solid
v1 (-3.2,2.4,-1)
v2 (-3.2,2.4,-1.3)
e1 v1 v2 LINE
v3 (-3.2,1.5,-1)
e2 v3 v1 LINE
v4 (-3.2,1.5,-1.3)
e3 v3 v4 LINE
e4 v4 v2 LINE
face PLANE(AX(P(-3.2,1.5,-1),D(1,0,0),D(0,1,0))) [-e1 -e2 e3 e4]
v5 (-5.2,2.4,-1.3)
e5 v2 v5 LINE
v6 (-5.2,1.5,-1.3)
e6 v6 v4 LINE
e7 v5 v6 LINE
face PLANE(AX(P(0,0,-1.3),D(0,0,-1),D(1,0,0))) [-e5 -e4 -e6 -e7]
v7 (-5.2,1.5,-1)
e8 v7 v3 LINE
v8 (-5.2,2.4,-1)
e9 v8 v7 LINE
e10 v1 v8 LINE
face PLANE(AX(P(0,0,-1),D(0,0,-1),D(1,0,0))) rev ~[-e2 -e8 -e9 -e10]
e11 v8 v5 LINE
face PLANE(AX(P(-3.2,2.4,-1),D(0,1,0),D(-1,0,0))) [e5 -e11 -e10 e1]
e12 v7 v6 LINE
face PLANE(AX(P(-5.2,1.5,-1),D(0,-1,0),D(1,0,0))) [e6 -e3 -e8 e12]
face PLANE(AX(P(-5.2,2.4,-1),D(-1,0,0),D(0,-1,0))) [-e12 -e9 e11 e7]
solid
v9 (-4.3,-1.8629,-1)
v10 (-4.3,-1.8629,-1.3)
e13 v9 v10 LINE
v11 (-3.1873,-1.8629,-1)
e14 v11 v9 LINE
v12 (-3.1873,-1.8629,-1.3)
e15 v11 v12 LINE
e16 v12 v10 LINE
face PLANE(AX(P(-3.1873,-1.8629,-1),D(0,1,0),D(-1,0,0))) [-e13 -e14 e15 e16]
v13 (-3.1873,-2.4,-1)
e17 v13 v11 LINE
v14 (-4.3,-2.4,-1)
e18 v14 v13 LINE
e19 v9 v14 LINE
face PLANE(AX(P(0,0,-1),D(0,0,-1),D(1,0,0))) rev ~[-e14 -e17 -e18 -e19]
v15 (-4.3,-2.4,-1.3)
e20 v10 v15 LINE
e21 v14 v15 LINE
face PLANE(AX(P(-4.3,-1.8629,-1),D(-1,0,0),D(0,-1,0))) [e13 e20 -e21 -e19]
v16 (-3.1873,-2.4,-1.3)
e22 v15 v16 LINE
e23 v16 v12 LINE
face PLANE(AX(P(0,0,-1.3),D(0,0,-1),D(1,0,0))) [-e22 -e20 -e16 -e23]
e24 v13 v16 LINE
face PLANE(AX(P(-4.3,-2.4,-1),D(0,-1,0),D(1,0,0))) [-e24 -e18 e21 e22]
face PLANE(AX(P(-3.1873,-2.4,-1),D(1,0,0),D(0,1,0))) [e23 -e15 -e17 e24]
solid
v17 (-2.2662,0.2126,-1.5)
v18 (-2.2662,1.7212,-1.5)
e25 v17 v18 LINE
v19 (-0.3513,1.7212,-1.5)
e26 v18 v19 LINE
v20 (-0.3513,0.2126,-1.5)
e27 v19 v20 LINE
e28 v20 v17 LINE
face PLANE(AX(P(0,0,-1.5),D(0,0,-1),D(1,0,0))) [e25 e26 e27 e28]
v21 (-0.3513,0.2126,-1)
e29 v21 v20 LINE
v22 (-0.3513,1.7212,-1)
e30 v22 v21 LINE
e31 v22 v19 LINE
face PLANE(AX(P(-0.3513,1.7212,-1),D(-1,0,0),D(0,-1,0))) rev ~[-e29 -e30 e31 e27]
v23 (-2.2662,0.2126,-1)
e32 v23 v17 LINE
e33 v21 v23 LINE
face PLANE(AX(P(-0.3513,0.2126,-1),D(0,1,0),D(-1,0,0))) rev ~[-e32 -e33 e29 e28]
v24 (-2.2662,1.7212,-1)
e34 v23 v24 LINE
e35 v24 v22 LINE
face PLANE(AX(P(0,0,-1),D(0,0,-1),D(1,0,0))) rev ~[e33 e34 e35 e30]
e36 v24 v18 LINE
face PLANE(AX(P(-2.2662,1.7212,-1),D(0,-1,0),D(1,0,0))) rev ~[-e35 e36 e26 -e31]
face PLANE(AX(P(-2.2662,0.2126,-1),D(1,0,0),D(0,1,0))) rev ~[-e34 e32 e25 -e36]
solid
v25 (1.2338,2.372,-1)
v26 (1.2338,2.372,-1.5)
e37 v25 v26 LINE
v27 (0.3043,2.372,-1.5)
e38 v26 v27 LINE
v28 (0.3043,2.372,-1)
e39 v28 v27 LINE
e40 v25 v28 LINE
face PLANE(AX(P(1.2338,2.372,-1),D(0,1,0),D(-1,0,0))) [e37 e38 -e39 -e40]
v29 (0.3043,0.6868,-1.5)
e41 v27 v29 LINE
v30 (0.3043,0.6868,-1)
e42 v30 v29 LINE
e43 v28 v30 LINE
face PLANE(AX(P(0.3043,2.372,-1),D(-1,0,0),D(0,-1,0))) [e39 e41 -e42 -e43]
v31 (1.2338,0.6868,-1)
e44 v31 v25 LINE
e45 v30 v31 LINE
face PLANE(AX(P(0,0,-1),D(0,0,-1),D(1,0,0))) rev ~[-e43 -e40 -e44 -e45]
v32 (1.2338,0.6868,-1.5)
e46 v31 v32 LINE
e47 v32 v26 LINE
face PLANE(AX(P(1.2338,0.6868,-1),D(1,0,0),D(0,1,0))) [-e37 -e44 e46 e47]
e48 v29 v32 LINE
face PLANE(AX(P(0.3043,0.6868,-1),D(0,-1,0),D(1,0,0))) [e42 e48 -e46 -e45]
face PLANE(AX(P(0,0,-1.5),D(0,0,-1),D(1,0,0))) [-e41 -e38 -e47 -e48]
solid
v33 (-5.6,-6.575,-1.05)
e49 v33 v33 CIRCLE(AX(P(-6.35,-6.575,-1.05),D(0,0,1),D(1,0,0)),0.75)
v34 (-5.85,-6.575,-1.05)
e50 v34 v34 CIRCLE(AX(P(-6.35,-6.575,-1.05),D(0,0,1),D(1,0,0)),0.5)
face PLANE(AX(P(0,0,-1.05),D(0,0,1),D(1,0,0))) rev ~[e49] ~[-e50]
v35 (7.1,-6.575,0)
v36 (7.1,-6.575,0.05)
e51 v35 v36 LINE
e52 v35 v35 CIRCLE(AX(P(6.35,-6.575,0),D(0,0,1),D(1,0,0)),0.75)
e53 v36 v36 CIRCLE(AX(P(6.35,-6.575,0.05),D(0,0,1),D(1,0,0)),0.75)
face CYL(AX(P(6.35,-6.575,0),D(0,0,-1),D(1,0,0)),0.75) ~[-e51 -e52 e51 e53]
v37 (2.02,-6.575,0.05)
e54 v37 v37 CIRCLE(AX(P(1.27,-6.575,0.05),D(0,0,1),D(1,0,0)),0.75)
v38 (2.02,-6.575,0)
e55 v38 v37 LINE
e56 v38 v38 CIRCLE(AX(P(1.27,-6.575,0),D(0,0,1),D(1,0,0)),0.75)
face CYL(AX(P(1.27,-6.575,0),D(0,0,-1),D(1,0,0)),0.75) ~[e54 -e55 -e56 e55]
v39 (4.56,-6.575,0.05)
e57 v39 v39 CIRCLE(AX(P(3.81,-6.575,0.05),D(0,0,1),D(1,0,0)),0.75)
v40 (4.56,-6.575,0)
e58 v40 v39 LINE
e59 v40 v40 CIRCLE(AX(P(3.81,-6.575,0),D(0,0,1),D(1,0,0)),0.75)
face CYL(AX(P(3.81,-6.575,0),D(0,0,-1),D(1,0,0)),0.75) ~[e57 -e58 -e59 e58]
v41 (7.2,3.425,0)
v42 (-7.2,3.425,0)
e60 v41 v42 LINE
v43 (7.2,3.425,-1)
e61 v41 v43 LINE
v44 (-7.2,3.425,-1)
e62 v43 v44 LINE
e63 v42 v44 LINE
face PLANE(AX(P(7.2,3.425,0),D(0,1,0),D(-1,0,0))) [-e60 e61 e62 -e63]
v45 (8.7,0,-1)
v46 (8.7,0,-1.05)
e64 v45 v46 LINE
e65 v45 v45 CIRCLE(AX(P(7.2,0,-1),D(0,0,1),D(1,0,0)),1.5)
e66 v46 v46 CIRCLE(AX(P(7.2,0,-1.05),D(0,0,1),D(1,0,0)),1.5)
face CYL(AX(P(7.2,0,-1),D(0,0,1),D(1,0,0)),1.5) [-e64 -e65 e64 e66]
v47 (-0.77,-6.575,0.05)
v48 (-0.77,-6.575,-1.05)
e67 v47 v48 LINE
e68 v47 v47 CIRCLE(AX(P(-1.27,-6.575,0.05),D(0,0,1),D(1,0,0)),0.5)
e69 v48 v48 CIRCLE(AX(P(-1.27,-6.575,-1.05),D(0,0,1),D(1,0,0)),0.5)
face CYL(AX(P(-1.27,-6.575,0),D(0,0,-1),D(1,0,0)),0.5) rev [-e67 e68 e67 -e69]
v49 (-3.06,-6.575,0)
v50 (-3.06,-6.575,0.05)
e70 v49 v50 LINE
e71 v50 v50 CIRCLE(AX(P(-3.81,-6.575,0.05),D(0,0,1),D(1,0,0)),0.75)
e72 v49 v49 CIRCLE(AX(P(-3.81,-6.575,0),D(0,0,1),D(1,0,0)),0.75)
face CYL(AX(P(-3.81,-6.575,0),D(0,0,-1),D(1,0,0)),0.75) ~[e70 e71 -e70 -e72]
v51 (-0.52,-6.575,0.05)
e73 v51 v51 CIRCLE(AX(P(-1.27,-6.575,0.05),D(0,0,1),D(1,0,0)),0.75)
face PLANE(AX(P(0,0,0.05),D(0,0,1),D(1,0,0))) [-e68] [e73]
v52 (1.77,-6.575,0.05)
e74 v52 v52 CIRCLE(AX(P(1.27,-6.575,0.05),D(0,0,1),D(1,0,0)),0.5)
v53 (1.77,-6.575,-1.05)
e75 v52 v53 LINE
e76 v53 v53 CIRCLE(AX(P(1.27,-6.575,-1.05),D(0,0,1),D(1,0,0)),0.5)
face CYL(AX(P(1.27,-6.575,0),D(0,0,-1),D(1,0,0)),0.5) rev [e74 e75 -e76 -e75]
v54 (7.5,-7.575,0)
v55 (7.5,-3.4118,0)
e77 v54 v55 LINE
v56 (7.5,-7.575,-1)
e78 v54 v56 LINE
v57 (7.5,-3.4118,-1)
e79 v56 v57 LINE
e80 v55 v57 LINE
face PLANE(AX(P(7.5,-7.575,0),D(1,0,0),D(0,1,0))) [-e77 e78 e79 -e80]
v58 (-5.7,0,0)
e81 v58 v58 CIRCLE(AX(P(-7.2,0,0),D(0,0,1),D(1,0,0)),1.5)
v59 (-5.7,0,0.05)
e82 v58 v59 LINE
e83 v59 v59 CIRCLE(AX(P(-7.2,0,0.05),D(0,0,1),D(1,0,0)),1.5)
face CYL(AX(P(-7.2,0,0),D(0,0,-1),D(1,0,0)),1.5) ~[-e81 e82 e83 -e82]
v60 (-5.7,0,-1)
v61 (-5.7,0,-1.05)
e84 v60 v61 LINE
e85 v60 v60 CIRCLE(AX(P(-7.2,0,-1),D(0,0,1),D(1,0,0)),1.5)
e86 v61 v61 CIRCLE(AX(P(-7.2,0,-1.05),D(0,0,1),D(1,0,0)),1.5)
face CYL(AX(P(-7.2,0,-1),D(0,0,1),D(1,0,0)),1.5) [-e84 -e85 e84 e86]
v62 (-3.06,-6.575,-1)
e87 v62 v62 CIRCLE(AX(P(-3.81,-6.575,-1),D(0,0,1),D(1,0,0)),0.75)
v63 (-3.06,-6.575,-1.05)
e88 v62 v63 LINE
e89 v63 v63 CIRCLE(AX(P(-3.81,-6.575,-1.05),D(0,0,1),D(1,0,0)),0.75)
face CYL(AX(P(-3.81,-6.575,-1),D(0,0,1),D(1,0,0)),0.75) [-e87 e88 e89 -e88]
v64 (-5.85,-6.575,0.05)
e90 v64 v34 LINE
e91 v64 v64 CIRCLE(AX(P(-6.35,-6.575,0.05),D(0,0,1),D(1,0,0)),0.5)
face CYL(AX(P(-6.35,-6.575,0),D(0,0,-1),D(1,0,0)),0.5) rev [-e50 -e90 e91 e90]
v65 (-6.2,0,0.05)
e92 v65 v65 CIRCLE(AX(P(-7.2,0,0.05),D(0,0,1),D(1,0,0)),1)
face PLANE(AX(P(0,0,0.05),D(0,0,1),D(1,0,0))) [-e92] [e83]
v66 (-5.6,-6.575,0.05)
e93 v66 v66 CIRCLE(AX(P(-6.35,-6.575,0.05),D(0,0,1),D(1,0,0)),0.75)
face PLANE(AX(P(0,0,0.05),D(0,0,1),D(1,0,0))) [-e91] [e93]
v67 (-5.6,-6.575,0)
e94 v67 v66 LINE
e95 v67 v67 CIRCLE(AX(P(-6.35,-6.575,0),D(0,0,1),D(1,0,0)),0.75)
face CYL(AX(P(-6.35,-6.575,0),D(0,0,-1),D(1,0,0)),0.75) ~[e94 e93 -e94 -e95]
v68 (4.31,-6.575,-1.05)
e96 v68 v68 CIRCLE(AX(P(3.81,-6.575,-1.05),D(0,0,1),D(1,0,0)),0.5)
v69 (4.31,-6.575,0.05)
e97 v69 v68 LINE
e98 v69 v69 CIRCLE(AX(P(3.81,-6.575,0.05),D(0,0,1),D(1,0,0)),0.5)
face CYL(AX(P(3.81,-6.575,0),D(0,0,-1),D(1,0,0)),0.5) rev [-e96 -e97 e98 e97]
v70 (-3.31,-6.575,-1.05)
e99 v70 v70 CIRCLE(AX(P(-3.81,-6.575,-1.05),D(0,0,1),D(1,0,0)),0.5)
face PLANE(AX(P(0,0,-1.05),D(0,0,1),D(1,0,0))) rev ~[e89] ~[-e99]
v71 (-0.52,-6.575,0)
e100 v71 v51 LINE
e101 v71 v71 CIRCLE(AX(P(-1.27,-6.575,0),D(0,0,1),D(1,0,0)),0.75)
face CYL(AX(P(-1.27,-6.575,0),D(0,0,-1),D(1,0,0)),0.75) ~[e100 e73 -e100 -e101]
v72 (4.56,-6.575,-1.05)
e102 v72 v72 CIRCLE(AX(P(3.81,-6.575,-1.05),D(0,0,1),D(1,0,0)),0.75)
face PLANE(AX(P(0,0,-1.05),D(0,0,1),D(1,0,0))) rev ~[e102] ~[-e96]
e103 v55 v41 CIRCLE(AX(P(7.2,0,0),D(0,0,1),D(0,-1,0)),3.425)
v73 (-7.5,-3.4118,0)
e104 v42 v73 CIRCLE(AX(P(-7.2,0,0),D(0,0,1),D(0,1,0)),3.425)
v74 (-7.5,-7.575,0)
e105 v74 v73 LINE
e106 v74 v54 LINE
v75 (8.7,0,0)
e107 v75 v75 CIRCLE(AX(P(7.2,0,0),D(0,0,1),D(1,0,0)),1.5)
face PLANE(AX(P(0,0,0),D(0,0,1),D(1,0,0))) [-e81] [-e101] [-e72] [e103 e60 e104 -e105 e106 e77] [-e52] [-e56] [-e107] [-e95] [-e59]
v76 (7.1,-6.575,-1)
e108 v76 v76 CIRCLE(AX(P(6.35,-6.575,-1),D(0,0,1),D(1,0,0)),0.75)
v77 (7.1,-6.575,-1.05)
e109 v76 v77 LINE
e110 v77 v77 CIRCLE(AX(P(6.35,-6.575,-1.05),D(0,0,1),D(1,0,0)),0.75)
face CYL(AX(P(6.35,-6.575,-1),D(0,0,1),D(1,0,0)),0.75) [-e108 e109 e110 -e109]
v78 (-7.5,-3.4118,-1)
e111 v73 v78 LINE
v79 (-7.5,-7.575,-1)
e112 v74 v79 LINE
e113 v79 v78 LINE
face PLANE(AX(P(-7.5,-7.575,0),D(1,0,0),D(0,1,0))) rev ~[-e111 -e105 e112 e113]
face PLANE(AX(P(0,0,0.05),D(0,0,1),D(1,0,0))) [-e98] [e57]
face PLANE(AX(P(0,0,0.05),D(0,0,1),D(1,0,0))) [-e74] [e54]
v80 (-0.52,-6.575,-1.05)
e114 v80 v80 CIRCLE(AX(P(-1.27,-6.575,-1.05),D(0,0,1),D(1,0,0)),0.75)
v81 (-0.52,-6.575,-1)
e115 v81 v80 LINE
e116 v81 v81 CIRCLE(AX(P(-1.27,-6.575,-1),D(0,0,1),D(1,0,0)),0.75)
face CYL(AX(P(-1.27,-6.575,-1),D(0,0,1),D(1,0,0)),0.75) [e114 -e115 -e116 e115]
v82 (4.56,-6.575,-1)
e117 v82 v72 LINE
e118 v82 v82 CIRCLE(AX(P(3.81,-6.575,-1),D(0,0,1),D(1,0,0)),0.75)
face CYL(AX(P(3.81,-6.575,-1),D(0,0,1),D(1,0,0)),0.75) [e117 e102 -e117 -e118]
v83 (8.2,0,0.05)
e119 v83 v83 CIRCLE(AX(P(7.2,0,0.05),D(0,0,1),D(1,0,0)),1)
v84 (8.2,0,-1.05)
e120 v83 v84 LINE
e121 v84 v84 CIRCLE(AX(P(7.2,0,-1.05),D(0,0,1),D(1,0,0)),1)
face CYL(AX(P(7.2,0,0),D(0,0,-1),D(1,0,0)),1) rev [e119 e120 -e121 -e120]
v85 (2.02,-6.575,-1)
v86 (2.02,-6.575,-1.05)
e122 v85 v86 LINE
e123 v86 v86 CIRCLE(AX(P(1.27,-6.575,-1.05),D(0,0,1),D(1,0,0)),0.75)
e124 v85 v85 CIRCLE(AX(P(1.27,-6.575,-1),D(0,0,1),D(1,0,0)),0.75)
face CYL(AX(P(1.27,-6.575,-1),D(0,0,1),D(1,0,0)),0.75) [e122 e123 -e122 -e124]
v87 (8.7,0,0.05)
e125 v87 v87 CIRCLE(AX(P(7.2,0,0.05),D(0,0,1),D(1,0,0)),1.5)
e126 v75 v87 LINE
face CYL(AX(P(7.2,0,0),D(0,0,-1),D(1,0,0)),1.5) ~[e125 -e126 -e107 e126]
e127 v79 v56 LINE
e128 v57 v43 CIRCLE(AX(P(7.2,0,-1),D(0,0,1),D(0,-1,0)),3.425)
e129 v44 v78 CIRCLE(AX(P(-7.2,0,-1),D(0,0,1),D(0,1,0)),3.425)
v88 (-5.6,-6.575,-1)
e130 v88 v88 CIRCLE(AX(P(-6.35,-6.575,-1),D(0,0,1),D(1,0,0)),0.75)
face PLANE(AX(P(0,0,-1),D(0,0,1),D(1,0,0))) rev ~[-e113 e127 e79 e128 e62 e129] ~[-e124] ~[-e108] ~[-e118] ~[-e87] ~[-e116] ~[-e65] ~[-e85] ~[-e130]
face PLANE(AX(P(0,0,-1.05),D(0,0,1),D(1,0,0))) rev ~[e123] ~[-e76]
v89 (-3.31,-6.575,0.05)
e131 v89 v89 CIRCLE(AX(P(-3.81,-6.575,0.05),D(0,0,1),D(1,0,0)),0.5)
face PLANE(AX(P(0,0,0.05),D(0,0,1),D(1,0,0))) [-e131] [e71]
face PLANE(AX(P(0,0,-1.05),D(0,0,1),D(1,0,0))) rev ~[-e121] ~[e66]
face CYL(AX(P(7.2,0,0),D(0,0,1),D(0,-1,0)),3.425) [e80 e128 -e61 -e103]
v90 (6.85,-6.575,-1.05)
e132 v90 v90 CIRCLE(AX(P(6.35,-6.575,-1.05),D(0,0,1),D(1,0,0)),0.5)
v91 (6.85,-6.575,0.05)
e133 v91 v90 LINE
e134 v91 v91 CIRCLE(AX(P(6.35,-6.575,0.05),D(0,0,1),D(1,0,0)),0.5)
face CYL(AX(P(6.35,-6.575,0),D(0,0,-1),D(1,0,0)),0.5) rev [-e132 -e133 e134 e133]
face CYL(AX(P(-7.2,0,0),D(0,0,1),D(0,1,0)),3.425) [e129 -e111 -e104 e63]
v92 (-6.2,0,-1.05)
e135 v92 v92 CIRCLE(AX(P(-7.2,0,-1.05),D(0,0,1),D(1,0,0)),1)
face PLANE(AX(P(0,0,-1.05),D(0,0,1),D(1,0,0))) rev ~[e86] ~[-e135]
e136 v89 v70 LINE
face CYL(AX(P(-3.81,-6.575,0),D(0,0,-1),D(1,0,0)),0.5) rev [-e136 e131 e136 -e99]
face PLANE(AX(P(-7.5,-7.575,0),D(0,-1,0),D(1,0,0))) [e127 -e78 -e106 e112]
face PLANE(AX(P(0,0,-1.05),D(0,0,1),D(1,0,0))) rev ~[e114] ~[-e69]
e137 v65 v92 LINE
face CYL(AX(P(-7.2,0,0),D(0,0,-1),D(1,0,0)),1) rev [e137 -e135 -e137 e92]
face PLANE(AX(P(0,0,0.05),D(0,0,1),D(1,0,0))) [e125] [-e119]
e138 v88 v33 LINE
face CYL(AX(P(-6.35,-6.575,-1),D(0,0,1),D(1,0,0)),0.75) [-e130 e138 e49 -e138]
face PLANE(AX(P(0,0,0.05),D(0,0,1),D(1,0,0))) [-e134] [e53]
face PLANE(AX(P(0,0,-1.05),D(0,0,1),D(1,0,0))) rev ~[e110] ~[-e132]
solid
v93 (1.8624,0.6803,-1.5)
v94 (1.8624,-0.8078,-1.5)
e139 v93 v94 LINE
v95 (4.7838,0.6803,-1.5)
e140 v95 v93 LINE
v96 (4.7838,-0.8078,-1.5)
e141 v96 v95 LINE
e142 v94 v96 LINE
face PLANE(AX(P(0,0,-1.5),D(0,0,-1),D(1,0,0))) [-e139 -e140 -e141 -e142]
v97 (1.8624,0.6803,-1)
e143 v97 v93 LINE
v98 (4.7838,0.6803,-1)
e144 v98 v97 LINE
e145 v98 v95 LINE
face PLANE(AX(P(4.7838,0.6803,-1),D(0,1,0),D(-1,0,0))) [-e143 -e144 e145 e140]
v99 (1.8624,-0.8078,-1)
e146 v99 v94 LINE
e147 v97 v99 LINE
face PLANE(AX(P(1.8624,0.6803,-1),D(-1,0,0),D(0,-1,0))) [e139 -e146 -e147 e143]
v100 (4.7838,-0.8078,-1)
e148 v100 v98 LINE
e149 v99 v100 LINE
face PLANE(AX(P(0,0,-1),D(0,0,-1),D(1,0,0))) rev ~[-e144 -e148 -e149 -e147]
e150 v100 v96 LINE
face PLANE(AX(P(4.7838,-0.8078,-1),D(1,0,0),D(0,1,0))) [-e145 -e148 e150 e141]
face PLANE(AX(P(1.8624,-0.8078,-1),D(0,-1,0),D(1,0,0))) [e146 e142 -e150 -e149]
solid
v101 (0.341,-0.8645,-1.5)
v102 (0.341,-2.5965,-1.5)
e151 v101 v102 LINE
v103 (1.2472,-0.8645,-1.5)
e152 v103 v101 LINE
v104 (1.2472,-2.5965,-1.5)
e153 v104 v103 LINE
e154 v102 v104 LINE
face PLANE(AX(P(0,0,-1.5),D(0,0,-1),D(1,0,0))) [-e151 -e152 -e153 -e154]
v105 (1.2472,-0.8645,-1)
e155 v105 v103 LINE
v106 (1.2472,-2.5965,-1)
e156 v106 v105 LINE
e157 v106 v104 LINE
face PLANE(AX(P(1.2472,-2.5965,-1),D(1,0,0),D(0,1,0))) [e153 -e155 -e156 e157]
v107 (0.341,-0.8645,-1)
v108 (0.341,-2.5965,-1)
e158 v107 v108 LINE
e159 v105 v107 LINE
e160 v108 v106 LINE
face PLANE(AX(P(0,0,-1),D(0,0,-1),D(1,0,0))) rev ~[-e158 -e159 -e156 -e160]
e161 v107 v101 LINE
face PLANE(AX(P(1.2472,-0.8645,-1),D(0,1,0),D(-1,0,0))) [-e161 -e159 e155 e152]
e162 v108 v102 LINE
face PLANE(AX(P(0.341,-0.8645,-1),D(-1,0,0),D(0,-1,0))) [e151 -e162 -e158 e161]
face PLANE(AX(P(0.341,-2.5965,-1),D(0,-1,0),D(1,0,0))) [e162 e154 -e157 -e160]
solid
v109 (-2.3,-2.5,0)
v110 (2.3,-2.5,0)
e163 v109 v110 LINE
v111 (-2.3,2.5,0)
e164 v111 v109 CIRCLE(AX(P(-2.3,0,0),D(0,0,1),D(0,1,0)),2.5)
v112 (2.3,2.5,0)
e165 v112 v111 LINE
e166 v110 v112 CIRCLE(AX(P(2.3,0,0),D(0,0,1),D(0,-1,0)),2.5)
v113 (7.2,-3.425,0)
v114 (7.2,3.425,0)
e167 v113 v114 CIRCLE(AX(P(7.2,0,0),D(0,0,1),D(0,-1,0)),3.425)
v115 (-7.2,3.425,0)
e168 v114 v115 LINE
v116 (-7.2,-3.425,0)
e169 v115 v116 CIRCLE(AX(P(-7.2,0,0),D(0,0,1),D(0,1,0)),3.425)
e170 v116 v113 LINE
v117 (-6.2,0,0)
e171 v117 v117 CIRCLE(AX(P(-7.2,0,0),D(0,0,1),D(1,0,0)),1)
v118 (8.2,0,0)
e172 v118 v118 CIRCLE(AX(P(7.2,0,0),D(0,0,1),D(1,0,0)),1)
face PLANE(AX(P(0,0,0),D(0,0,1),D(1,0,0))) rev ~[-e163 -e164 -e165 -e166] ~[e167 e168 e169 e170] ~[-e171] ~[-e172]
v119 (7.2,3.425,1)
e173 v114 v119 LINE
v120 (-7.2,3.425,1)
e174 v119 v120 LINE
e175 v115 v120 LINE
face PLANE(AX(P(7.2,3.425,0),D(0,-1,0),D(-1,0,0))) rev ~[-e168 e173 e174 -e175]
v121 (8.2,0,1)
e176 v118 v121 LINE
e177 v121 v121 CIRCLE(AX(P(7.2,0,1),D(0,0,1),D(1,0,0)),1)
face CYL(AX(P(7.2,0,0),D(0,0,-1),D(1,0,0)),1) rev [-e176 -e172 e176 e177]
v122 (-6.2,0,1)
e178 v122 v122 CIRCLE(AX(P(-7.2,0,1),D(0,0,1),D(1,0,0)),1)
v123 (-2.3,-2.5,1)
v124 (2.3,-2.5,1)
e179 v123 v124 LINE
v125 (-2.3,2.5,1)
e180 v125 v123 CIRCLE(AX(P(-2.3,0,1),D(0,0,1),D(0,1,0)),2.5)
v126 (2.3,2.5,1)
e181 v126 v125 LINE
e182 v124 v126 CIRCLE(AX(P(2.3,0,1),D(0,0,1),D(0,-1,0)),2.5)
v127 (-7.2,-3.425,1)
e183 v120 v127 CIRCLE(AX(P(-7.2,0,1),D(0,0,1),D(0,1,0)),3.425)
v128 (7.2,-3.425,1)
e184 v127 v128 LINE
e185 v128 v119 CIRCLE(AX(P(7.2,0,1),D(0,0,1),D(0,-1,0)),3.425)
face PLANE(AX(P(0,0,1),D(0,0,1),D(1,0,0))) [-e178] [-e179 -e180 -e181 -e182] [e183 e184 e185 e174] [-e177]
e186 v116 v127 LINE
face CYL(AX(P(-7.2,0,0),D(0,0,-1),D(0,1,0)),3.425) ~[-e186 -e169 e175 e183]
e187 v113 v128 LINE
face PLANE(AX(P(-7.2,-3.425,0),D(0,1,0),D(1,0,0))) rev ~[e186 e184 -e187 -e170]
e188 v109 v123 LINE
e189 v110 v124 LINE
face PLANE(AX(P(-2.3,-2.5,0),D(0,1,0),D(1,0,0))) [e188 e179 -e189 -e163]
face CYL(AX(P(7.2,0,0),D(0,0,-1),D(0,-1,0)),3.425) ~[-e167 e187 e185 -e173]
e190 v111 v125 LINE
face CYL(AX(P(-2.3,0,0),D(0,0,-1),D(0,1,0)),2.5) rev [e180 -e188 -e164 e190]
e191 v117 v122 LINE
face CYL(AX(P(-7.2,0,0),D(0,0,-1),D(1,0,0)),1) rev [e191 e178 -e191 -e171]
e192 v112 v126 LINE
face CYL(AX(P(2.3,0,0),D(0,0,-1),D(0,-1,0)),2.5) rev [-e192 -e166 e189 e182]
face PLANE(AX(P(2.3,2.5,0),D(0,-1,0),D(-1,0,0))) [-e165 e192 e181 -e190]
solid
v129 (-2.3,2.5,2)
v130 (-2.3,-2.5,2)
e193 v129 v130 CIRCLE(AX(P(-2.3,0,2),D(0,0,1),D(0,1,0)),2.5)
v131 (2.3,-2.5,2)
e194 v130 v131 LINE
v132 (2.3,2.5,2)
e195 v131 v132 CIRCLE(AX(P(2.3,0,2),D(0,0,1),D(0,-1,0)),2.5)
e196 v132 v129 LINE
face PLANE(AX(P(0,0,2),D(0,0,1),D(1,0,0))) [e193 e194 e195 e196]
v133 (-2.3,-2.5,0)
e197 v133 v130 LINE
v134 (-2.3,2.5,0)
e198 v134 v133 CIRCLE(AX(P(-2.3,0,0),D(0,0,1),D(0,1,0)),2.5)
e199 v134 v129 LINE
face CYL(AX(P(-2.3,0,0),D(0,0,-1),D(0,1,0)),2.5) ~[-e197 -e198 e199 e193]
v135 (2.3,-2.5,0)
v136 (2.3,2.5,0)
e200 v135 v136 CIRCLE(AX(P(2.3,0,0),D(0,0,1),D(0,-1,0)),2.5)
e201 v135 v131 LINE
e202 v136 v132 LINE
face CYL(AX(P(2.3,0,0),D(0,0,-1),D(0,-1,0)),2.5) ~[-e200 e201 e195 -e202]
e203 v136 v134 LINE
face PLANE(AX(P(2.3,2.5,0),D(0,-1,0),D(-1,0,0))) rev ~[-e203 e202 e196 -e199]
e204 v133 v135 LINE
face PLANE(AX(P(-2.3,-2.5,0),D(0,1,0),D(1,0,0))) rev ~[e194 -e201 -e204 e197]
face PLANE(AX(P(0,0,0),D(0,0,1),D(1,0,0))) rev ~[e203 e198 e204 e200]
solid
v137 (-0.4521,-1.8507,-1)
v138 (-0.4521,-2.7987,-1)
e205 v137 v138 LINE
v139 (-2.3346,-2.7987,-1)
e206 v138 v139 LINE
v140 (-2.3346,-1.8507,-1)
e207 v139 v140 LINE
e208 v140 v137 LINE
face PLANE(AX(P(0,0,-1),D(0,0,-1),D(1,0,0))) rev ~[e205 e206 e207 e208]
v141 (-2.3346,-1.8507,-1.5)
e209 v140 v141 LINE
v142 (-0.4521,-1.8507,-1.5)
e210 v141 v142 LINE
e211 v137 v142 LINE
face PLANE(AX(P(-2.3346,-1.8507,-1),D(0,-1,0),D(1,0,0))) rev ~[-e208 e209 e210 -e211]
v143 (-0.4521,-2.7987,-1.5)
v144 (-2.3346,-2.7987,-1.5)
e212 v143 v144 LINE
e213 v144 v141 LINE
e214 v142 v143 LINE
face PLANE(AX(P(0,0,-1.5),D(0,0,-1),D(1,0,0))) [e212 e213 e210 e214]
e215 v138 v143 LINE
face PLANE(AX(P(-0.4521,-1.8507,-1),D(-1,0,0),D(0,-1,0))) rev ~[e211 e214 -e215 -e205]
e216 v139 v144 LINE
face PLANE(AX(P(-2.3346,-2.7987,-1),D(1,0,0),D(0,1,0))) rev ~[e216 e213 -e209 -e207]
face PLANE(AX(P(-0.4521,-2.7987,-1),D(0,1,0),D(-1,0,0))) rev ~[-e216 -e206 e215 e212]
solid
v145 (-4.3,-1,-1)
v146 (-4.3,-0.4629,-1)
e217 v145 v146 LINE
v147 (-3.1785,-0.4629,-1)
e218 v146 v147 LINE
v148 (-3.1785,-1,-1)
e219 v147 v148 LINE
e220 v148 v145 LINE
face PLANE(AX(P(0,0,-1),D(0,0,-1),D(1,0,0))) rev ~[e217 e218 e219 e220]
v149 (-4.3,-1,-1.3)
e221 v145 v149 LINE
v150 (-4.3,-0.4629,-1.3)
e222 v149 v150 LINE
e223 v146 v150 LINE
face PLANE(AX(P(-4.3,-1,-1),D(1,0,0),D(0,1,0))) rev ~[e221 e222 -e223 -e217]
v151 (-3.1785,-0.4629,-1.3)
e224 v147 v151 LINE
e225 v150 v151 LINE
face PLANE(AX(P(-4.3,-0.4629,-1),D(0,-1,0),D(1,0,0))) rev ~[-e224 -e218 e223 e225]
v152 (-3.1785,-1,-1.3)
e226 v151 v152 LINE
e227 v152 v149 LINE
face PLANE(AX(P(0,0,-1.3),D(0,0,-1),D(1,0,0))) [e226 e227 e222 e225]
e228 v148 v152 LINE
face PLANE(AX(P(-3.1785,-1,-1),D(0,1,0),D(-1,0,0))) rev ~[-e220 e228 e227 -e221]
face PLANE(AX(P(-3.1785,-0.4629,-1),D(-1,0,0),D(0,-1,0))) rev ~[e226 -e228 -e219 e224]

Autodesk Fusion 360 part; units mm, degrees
sketch "Sketch1" plane through (0, 0, 0) normal (0, 0, 1) x (1, 0, 0) in component "PCB"
  line L0 (-7.2, -3.425) -> (7.2, -3.425)
  arc A0 (7.2, -3.425) -> (7.2, 3.425) centre (7.2, 0) ccw
  line L1 (7.2, 3.425) -> (-7.2, 3.425)
  arc A1 (-7.2, 3.425) -> (-7.2, -3.425) centre (-7.2, 0) ccw
  line L2 (-7.2, 0) -> (7.2, 0) construction
  circle A2 centre (-7.2, 0) radius 1
  circle A3 centre (7.2, 0) radius 1
  line L3 (-7.5, -7.575) -> (7.5, -7.575)
  line L4 (-7.5, -7.575) -> (-7.5, -3.4118)
  line L5 (7.5, -7.575) -> (7.5, -3.4118)
  circle A4 centre (-6.35, -6.575) radius 0.5
  circle A5 centre (-3.81, -6.575) radius 0.5
  circle A6 centre (-1.27, -6.575) radius 0.5
  circle A7 centre (1.27, -6.575) radius 0.5
  circle A8 centre (3.81, -6.575) radius 0.5
  circle A9 centre (6.35, -6.575) radius 0.5
  circle A10 centre (-6.35, -6.575) radius 0.75
  circle A11 centre (-3.81, -6.575) radius 0.75
  circle A12 centre (-1.27, -6.575) radius 0.75
  circle A13 centre (1.27, -6.575) radius 0.75
  circle A14 centre (3.81, -6.575) radius 0.75
  circle A15 centre (6.35, -6.575) radius 0.75
  circle A16 centre (-7.2, 0) radius 1.5
  circle A17 centre (7.2, 0) radius 1.5
  dimension "d1" = 6.85
  dimension "d2" = 14.4
  dimension "d3" = 2
  dimension "d4" = 2
  dimension "d5" = 11
  dimension "d6" = 15
  dimension "d7" = 7.5
  dimension "d8" = 1
  dimension "d11" = 2.54
  dimension "d12" = 0
  dimension "d13" = 1.27
  dimension "d14" = 1
  dimension "d15" = 1.5
  dimension "d16" = 3
  dimension "d17" = 3
extrude "Extrude1" add sketch "Sketch1" against normal blind 1 contours L0 A0 L1 A1 | L0 A0 A1 L3 L4 L5 | A10 | A11 | A12 | A13 | A14 | A15 | A16 | A17 makes body 1 in component "PCB"
extrude "Extrude2" add sketch "Sketch1" along normal blind 0.05 contours A10 | A11 | A12 | A13 | A14 | A15 | A16 | A17 bodies 1 in component "PCB"
extrude "Extrude3" add 8 faces at (-5.8723, -0.0745, 0.05) (8.524, -0.1242, 0.05) (7.0139, -6.6123, 0.05) (4.472, -6.6371, 0.05) (1.932, -6.6371, 0.05) (-0.608, -6.6371, 0.05) (-3.1461, -6.6123, 0.05) (-5.6861, -6.6123, 0.05) along direction (0, 0, -1) blind 0.05 start surface through (0, 0, -1) normal (0, 0, -1) on bodies 1 bodies 1 in component "PCB"
sketch "Sketch1 (2)" plane through (0, 0, 0) normal (0, 0, 1) x (1, 0, 0) in component "Lens"
  line L0 (7.2, 3.425) -> (-7.2, 3.425)
  arc A0 (-7.2, 3.425) -> (-7.2, -3.425) centre (-7.2, 0) ccw
  arc A1 (7.2, -3.425) -> (7.2, 3.425) centre (7.2, 0) ccw
  line L1 (-7.2, -3.425) -> (7.2, -3.425)
  line L2 (-2.3, -2.5) -> (2.3, -2.5)
  arc A2 (2.3, -2.5) -> (2.3, 2.5) centre (2.3, 0) ccw
  line L3 (2.3, 2.5) -> (-2.3, 2.5)
  arc A3 (-2.3, 2.5) -> (-2.3, -2.5) centre (-2.3, 0) ccw
  line L4 (-2.3, 0) -> (2.3, 0) construction
  circle A4 centre (-7.2, 0) radius 1
  circle A5 centre (7.2, 0) radius 1
  dimension "d25" = 5
  dimension "d26" = 4.6
extrude "Extrude1'" add sketch "Sketch1 (2)" along normal blind 1 separate body makes body 2 in component "Lens"
extrude "Extrude2'" add sketch "Sketch1 (2)" along normal blind 2 separate body contours L2 A2 L3 A3 makes body 3 in component "Lens"
sketch "Sketch1 (3)" plane through (0, 0, -1) normal (0, 0, -1) x (1, 0, 0) in component "Components"
  circle A0 centre (-6.35, 6.575) radius 0.75
  circle A1 centre (-1.27, 6.575) radius 0.75
  circle A2 centre (3.81, 6.575) radius 0.75
  circle A3 centre (7.2, 0) radius 1.5
  circle A4 centre (-7.2, 0) radius 1.5
  circle A5 centre (6.35, 6.575) radius 0.75
  circle A6 centre (1.27, 6.575) radius 0.75
  circle A7 centre (-3.81, 6.575) radius 0.75
  line L0 (7.5, 7.575) -> (-7.5, 7.575)
  line L1 (-7.5, 7.575) -> (-7.5, 3.4118)
  arc A8 (-7.5, 3.4118) -> (-7.2, -3.425) centre (-7.2, 0) ccw
  line L2 (-7.2, -3.425) -> (7.2, -3.425)
  arc A9 (7.2, -3.425) -> (7.5, 3.4118) centre (7.2, 0) ccw
  line L3 (7.5, 3.4118) -> (7.5, 7.575)
  line L4 (4.7838, -0.6803) -> (1.8624, -0.6803)
  line L5 (1.8624, -0.6803) -> (1.8624, 0.8078)
  line L6 (1.8624, 0.8078) -> (4.7838, 0.8078)
  line L7 (4.7838, 0.8078) -> (4.7838, -0.6803)
  line L8 (1.2338, -2.372) -> (0.3043, -2.372)
  line L9 (0.3043, -2.372) -> (0.3043, -0.6868)
  line L10 (0.3043, -0.6868) -> (1.2338, -0.6868)
  line L11 (1.2338, -0.6868) -> (1.2338, -2.372)
  line L12 (1.2472, 0.8645) -> (0.341, 0.8645)
  line L13 (0.341, 0.8645) -> (0.341, 2.5965)
  line L14 (0.341, 2.5965) -> (1.2472, 2.5965)
  line L15 (1.2472, 2.5965) -> (1.2472, 0.8645)
  line L16 (-0.3513, -0.2126) -> (-2.2662, -0.2126)
  line L17 (-2.2662, -0.2126) -> (-2.2662, -1.7212)
  line L18 (-2.2662, -1.7212) -> (-0.3513, -1.7212)
  line L19 (-0.3513, -1.7212) -> (-0.3513, -0.2126)
  line L20 (-0.4521, 2.7987) -> (-2.3346, 2.7987)
  line L21 (-2.3346, 2.7987) -> (-2.3346, 1.8507)
  line L22 (-2.3346, 1.8507) -> (-0.4521, 1.8507)
  line L23 (-0.4521, 1.8507) -> (-0.4521, 2.7987)
  line L24 (-3.1873, 1.8629) -> (-4.3, 1.8629)
  line L25 (-4.3, 1.8629) -> (-4.3, 2.4)
  line L26 (-4.3, 2.4) -> (-3.1873, 2.4)
  line L27 (-3.1873, 2.4) -> (-3.1873, 1.8629)
  line L28 (-3.1785, 1) -> (-4.3, 1)
  line L29 (-4.3, 1) -> (-4.3, 0.4629)
  line L30 (-4.3, 0.4629) -> (-3.1785, 0.4629)
  line L31 (-3.1785, 0.4629) -> (-3.1785, 1)
  line L32 (-3.2, -2.4) -> (-5.2, -2.4)
  line L33 (-5.2, -2.4) -> (-5.2, -1.5)
  line L34 (-5.2, -1.5) -> (-3.2, -1.5)
  line L35 (-3.2, -1.5) -> (-3.2, -2.4)
extrude "Extrude1''" add sketch "Sketch1 (3)" along normal blind 0.5 separate body contours L4 L5 L6 L7 | L8 L9 L10 L11 | L12 L13 L14 L15 | L16 L17 L18 L19 | L20 L21 L22 L23 makes body 4 at (0.924, 1.8103, -1) makes body 5 at (-1.6279, 0.7155, -1) makes body 6 at (0.6431, -2.0192, -1) makes body 7 at (3.81, 0.1843, -1) makes body 8 at (-1.0796, -2.1667, -1) in component "Components"
extrude "Extrude2''" add sketch "Sketch1 (3)" along normal blind 0.3 separate body contours L24 L25 L26 L27 | L28 L29 L30 L31 | L32 L33 L34 L35 makes body 9 at (-3.8667, 2.1, -1) makes body 10 at (-3.9262, -0.821, -1) makes body 11 at (-3.5582, -2.0419, -1) in component "Components"
component "PCB" placed x (1, 0, 0) y (0, 1, 0) z (0, 0, 1) at (0, 0, 0)
component "Lens" placed x (1, 0, 0) y (0, 1, 0) z (0, 0, 1) at (0, 0, 0)
component "Components" placed x (1, 0, 0) y (0, 1, 0) z (0, 0, 1) at (0, 0, 0)
equation "d7 = d6 / 2"
equation "d26 = 9.6 mm - 5 mm"
